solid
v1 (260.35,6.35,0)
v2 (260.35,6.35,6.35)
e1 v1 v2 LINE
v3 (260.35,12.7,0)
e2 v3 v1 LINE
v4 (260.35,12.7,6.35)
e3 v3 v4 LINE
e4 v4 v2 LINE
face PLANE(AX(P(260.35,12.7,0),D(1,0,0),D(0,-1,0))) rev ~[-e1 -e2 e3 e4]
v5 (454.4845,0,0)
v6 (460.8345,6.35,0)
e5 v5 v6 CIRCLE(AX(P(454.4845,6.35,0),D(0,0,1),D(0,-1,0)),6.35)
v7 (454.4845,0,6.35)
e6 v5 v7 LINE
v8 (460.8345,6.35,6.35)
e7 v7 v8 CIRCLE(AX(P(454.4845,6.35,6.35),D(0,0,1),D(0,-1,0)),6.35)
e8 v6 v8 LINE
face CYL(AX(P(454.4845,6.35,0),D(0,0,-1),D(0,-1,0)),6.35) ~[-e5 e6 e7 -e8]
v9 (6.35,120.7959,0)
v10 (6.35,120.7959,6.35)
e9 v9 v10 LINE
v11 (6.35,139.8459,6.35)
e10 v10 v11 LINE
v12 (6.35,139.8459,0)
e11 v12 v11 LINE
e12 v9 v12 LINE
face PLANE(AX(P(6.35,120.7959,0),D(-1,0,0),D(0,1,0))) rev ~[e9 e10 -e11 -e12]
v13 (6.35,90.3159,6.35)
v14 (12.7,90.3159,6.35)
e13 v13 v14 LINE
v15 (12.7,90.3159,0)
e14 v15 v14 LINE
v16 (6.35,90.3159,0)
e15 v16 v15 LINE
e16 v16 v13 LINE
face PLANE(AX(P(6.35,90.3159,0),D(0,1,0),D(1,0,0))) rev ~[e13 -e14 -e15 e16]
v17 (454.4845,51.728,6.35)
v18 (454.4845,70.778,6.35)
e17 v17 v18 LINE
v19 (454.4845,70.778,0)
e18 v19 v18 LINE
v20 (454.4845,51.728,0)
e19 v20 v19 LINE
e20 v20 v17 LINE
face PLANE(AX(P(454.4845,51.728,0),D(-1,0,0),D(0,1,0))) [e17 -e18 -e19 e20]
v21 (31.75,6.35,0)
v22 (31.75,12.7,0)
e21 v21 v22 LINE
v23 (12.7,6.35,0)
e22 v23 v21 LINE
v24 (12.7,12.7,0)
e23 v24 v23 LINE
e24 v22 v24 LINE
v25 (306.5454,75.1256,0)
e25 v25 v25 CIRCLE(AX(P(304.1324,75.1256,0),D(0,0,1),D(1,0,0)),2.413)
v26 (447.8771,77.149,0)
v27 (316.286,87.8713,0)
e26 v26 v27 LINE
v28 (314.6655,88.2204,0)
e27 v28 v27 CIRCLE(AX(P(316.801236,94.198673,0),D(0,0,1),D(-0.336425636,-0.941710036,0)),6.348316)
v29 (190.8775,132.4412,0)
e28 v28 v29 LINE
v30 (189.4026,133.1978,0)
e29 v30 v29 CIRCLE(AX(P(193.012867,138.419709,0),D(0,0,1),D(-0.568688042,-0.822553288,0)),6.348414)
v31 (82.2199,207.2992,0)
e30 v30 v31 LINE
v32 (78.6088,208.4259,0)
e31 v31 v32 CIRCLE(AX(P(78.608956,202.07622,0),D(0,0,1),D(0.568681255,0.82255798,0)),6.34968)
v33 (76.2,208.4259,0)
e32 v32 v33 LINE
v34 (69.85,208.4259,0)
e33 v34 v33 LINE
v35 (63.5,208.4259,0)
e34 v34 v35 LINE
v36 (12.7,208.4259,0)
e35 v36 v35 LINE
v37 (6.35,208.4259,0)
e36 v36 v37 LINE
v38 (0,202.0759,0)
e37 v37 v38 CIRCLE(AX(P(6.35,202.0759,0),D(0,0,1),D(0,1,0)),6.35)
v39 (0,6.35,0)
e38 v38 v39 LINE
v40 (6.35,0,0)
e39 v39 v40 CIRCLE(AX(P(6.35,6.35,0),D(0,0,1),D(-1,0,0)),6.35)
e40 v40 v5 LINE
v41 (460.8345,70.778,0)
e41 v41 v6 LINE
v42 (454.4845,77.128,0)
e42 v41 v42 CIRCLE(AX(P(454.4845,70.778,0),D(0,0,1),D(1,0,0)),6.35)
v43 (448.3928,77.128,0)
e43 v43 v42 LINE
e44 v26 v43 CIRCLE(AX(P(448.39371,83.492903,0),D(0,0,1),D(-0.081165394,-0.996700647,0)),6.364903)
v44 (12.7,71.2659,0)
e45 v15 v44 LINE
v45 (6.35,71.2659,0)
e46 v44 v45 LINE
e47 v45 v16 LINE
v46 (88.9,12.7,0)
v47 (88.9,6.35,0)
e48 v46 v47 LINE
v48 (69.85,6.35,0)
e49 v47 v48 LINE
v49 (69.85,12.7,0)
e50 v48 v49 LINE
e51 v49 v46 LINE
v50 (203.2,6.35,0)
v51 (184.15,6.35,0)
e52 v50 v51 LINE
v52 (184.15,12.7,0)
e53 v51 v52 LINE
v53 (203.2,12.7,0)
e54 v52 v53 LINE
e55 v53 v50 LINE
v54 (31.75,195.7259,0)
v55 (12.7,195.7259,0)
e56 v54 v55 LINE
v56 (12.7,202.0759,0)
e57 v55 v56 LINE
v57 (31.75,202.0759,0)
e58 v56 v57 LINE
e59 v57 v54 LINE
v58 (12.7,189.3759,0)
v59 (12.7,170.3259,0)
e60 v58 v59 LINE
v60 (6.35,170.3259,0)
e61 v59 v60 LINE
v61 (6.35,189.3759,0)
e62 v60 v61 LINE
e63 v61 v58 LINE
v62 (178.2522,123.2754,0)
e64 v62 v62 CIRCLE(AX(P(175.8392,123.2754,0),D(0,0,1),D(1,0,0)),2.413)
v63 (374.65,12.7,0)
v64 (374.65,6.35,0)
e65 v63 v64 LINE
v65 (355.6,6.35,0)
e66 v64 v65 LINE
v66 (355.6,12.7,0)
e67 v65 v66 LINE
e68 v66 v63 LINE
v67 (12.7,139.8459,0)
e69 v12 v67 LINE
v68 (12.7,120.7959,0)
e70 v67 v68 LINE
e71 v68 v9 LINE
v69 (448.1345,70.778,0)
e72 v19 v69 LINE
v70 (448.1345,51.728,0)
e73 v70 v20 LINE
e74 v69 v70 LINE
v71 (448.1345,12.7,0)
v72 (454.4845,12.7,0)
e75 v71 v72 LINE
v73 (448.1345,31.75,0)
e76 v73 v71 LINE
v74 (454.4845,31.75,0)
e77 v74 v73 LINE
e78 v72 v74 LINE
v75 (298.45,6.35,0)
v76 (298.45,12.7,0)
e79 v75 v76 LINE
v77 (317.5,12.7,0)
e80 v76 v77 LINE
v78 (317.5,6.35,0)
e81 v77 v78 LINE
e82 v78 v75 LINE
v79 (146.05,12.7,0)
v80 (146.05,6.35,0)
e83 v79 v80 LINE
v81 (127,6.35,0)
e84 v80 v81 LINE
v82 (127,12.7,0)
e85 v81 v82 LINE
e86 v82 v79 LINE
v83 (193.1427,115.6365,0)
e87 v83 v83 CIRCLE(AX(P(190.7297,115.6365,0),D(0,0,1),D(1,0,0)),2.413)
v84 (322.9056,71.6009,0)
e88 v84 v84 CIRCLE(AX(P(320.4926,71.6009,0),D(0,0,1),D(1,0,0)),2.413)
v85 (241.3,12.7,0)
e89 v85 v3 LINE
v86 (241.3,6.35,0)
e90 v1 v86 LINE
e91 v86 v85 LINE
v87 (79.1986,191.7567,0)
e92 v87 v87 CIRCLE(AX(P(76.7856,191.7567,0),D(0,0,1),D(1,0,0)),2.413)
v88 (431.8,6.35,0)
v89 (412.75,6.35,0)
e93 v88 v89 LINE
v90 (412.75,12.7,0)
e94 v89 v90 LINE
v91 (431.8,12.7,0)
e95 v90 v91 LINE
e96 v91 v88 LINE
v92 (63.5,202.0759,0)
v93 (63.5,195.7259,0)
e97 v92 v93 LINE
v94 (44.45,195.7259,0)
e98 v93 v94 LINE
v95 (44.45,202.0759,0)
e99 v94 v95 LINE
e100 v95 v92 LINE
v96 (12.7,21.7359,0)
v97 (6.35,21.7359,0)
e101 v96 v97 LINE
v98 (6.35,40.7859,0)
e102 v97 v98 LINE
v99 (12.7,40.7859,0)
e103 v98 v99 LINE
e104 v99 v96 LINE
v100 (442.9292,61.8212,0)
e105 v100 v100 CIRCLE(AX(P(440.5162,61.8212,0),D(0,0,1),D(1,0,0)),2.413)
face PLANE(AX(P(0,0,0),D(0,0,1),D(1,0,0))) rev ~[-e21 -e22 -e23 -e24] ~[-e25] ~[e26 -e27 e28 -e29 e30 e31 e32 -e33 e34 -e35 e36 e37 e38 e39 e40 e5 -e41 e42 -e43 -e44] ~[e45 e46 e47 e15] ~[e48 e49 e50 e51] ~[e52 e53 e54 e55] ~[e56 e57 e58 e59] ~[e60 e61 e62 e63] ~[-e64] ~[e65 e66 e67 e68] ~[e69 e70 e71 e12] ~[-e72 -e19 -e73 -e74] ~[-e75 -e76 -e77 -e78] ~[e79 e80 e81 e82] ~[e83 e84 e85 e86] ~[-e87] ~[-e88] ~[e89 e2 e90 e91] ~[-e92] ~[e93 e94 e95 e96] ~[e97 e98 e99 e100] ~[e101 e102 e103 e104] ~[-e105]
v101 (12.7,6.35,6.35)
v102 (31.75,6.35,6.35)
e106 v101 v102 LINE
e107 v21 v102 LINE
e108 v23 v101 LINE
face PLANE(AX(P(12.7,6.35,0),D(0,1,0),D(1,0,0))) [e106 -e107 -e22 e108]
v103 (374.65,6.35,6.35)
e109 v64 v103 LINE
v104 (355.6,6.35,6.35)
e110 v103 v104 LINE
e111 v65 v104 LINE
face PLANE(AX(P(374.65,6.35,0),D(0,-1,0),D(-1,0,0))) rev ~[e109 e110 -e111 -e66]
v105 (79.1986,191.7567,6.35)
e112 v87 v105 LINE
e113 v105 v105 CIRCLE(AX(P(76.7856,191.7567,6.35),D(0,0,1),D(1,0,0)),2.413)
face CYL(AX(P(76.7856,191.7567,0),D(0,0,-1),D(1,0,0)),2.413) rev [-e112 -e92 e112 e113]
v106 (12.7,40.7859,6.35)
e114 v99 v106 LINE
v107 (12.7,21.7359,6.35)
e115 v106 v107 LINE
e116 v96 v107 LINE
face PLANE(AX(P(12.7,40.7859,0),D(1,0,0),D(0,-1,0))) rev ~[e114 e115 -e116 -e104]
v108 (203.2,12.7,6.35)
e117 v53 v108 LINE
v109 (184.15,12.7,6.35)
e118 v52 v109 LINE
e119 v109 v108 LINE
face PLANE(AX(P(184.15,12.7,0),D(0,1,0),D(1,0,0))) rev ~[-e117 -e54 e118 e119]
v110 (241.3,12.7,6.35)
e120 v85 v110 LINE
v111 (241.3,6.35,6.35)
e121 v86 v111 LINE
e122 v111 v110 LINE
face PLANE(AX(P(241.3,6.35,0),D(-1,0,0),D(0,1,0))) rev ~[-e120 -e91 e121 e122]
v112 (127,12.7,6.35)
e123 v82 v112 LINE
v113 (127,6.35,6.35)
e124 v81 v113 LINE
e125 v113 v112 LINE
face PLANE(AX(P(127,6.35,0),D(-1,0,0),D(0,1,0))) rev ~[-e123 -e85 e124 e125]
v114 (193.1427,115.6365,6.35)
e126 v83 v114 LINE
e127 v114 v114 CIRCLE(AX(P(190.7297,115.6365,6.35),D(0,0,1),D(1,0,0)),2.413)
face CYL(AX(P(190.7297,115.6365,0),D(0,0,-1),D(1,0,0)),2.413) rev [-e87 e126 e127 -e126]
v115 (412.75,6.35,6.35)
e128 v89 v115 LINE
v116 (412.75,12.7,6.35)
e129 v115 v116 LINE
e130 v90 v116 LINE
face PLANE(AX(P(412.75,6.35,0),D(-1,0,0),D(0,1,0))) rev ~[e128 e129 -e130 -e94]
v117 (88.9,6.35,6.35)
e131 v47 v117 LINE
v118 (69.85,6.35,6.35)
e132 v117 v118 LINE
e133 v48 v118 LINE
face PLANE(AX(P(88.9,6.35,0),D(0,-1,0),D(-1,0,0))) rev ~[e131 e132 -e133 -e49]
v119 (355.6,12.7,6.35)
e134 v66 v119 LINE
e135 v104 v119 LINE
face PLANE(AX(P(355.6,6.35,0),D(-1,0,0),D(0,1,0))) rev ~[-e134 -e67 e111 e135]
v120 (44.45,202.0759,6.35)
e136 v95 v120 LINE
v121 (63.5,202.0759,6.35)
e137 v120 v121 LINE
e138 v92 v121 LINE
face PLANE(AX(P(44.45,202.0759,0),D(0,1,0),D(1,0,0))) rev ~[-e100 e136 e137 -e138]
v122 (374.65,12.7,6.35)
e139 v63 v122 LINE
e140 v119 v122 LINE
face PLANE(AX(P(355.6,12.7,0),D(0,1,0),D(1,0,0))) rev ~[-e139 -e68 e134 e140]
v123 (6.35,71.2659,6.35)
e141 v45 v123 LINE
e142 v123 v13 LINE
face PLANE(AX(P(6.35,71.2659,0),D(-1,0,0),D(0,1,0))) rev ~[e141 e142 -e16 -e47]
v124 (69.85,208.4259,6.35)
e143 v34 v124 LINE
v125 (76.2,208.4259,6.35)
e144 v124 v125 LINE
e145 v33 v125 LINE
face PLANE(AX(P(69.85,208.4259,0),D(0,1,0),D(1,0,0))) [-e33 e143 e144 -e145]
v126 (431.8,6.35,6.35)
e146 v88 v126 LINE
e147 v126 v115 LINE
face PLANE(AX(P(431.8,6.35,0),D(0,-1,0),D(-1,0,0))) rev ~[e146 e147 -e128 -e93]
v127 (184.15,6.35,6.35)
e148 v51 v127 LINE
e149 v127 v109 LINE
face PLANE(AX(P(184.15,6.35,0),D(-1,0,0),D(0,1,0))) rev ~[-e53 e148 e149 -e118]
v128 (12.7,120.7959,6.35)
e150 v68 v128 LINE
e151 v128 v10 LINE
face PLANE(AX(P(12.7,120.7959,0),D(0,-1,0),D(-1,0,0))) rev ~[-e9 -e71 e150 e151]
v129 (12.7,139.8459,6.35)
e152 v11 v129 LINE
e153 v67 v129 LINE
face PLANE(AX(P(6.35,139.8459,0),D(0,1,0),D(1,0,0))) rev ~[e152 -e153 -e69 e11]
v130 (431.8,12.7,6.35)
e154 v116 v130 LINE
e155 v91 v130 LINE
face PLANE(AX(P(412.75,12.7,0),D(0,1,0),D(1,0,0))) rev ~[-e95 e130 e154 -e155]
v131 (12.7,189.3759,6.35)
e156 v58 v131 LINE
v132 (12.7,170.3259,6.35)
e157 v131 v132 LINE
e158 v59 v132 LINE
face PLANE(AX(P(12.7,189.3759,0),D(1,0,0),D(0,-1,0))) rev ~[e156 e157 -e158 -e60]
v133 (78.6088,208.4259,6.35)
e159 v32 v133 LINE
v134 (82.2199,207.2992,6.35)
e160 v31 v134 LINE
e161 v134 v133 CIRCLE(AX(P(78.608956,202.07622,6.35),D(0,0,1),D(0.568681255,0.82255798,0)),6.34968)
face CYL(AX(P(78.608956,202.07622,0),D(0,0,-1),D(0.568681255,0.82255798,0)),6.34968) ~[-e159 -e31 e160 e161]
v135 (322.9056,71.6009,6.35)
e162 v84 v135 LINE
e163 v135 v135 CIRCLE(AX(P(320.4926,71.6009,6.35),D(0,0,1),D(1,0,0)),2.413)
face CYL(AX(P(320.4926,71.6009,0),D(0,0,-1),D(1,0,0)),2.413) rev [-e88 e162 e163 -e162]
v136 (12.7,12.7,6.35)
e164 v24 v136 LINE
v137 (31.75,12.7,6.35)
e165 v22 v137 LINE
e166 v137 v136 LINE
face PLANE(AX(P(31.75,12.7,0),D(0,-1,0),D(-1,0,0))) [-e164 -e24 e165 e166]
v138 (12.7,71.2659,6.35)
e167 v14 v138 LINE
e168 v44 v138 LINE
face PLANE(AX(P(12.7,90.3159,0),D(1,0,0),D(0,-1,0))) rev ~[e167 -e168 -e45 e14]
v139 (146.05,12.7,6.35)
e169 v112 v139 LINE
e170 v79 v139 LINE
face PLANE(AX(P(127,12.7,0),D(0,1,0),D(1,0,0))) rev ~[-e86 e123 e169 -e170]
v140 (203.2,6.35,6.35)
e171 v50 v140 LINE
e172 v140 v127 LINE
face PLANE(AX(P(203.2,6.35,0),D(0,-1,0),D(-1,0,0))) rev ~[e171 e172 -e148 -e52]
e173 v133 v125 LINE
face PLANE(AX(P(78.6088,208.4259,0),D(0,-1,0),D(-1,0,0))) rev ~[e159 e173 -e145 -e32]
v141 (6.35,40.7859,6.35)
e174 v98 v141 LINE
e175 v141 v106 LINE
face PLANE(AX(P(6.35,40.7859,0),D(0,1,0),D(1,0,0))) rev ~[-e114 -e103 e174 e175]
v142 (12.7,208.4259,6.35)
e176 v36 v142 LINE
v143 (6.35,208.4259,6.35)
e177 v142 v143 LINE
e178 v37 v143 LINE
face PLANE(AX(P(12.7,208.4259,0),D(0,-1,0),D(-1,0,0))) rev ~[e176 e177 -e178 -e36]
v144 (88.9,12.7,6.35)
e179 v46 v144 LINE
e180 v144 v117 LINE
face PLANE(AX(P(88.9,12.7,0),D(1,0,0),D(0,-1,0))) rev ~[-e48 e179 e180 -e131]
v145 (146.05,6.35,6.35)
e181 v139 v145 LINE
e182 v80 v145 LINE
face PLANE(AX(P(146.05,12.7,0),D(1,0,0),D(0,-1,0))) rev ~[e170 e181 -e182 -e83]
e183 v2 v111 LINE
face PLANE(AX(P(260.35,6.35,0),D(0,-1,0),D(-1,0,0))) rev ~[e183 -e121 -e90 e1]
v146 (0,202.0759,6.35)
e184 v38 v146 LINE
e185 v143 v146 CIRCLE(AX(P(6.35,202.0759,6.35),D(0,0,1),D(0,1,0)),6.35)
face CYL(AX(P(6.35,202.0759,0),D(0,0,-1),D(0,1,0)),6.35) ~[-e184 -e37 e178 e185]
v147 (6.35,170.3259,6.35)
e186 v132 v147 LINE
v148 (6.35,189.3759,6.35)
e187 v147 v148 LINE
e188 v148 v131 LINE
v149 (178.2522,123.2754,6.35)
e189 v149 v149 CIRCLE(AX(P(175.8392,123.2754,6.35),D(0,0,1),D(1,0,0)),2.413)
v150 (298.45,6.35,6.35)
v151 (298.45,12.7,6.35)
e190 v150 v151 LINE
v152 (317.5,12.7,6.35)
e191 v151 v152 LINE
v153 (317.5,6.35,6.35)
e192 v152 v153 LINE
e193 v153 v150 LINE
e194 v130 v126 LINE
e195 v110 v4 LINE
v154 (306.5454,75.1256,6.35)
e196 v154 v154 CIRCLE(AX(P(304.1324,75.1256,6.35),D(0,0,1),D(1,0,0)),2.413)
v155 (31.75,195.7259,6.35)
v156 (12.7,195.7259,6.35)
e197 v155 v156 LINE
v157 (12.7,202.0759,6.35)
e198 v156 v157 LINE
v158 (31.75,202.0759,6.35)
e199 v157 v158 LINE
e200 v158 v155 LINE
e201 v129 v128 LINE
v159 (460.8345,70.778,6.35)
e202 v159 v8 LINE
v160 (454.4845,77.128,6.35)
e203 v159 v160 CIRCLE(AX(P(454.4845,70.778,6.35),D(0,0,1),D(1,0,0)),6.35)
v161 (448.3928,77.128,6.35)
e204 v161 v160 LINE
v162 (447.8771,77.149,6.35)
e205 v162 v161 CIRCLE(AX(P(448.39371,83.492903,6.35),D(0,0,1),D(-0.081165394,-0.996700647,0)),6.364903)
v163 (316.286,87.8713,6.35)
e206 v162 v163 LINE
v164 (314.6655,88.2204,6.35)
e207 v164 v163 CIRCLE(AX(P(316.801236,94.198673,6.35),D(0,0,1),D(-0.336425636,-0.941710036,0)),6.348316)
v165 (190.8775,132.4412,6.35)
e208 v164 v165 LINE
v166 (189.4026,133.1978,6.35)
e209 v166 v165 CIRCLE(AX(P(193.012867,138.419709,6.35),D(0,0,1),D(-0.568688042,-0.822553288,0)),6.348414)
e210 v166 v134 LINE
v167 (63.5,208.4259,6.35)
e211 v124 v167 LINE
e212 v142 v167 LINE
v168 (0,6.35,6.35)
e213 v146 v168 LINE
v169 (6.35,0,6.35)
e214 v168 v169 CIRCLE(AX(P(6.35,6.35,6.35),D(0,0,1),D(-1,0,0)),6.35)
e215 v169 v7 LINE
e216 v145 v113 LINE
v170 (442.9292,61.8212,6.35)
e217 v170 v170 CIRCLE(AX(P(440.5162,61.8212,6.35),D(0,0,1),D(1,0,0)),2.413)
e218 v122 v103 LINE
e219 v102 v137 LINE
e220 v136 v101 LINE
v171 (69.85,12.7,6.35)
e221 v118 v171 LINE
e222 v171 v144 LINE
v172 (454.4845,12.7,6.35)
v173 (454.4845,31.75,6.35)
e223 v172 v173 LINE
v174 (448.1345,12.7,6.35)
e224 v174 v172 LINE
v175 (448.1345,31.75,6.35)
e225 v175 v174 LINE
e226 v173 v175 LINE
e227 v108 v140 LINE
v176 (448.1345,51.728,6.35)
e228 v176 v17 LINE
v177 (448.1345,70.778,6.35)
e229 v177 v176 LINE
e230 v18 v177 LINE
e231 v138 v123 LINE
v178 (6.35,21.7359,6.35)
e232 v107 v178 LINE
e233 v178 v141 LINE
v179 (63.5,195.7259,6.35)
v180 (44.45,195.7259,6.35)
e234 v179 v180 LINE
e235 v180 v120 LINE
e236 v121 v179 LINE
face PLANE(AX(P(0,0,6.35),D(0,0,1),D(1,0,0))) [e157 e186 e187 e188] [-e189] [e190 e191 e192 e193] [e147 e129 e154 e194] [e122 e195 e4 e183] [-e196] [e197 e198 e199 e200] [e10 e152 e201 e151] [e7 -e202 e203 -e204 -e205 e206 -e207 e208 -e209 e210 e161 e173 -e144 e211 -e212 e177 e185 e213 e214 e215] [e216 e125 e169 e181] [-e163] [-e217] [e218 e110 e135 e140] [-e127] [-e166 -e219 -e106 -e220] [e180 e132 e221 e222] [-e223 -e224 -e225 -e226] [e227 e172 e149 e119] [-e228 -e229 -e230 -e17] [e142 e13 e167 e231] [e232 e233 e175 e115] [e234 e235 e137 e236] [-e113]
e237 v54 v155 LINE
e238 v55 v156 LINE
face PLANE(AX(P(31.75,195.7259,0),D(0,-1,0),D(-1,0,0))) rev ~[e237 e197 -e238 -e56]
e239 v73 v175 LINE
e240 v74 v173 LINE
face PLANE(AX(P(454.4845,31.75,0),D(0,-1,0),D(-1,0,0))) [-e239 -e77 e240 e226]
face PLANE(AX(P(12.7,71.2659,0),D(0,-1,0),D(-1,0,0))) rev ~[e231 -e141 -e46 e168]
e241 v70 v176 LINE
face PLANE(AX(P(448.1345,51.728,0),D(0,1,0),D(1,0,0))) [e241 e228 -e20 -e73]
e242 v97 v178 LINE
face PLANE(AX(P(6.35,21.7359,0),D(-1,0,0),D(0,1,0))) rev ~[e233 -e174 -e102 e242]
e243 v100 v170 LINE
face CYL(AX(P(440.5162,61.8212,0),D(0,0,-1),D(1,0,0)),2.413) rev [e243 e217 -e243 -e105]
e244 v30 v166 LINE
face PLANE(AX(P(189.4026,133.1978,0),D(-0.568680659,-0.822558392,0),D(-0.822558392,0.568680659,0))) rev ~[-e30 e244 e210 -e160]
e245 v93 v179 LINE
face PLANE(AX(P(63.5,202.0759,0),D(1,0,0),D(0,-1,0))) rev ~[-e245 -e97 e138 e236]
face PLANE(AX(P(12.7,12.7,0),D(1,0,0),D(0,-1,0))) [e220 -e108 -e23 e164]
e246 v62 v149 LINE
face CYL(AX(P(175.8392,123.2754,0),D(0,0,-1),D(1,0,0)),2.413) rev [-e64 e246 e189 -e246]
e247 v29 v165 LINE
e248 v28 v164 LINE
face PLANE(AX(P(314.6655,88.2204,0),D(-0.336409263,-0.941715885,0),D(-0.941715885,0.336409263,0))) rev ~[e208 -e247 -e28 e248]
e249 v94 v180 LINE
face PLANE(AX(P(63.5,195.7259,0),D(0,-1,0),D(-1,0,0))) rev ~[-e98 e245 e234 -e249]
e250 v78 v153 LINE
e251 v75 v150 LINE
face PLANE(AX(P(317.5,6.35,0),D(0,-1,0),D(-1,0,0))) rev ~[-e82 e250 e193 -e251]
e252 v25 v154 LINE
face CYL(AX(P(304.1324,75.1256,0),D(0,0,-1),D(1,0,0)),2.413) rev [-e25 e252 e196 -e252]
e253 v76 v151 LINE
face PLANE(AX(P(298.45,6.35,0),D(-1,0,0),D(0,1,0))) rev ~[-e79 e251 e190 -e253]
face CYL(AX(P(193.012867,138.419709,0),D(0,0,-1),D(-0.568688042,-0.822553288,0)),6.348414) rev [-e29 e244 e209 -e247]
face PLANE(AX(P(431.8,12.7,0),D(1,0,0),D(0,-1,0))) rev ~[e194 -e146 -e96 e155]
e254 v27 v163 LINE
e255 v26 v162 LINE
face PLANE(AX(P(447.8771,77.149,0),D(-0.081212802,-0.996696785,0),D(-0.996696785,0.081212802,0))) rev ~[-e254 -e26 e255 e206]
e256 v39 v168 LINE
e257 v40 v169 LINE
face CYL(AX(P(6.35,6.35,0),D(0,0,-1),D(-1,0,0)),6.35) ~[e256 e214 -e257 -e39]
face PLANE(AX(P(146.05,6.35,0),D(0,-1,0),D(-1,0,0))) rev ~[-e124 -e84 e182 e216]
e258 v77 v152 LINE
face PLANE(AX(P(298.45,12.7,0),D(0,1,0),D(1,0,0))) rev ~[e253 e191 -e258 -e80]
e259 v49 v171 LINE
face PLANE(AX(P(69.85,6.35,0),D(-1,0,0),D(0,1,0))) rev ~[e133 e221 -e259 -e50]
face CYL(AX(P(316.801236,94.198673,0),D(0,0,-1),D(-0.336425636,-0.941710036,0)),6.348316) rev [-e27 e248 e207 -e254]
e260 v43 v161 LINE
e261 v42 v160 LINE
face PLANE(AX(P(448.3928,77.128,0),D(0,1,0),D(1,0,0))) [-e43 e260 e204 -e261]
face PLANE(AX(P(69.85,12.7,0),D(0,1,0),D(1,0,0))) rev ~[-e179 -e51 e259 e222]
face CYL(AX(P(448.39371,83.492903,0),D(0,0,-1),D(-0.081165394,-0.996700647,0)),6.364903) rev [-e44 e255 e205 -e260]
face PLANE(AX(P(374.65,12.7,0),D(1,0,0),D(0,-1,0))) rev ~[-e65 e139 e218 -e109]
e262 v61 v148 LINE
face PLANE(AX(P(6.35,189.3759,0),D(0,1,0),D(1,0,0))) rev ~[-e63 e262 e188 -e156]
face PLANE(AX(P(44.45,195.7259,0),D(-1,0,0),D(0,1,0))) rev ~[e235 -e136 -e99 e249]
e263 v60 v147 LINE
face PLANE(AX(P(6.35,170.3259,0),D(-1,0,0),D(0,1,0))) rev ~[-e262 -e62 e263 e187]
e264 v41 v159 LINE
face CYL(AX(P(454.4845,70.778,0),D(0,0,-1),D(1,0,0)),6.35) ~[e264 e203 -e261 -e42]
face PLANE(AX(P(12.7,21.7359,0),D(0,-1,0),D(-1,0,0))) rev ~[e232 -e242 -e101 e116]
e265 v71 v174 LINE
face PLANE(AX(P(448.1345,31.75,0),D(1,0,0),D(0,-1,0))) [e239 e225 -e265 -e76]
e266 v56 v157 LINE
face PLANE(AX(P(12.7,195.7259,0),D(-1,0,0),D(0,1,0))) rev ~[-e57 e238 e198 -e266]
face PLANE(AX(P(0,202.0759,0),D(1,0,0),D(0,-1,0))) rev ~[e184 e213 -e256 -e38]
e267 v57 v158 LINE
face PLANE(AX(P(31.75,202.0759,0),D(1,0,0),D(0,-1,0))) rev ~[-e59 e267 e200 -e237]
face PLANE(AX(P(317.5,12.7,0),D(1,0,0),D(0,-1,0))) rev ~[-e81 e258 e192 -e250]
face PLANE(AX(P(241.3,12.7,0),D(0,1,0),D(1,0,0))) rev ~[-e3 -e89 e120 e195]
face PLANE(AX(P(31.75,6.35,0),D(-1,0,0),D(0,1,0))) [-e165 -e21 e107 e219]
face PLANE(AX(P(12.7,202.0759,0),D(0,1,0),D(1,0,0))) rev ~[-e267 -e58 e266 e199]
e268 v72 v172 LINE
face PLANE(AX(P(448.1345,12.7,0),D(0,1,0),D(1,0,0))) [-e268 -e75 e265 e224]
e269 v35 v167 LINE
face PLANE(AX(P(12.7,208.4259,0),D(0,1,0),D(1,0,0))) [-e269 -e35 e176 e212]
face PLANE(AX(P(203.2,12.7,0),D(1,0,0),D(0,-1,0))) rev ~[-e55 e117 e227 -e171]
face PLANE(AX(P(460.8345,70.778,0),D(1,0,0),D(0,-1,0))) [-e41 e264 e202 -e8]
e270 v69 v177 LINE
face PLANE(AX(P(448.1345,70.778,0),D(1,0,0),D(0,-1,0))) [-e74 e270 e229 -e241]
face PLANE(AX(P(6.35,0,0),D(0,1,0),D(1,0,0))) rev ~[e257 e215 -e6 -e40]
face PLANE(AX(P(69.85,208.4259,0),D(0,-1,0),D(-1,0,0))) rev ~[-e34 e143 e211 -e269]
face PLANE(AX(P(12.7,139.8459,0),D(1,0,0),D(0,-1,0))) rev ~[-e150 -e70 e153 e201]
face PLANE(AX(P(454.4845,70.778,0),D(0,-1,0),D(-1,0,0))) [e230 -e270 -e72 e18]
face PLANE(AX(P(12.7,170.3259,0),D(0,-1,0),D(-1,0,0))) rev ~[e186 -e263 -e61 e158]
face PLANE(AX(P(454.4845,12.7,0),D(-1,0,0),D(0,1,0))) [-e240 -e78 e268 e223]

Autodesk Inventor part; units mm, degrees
ref_plane "YZ Plane" through (0, 0, 0) normal (1, 0, 0) x (0, 1, 0)
ref_plane "XZ Plane" through (0, 0, 0) normal (0, 1, 0) x (-1, 0, 0)
ref_plane "XY Plane" through (0, 0, 0) normal (0, 0, 1) x (1, 0, 0)
sketch "Sketch1" plane through (0, 0, 0) normal (0, 0, 1) x (1, 0, 0)
  line L0 (447.8771, 77.149) -> (316.286, 87.8713)
  line L1 (314.6655, 88.2204) -> (190.8775, 132.4412)
  line L2 (189.4026, 133.1978) -> (82.2199, 207.2992)
  line L3 (0, 202.0759) -> (0, 6.35)
  circle A0 centre (440.5162, 61.8212) radius 2.413
  circle A1 centre (320.4926, 71.6009) radius 2.413
  line L4 (448.1345, 77.128) -> (443.7313, 23.0895) construction
  line L5 (315.4528, 87.9391) -> (312.3268, 49.5751) construction
  line L6 (315.4528, 87.9391) -> (300.5748, 46.291) construction
  circle A2 centre (190.7297, 115.6365) radius 2.413
  circle A3 centre (304.1324, 75.1256) radius 2.413
  line L7 (190.0903, 132.7224) -> (175.3821, 91.5497) construction
  line L8 (190.0903, 132.7224) -> (160.9674, 90.5981) construction
  circle A4 centre (175.8392, 123.2754) radius 2.413
  circle A5 centre (76.7856, 191.7567) radius 2.413
  line L9 (80.5901, 208.4259) -> (54.0448, 170.0299) construction
  line L10 (69.85, 208.4259) -> (76.2, 208.4259)
  line L11 (76.2, 202.0759) -> (76.2, 208.4259) construction
  line L12 (448.3928, 77.128) -> (454.4845, 77.128)
  line L13 (12.7, 208.4259) -> (6.35, 208.4259)
  line L14 (78.6088, 208.4259) -> (63.5, 208.4259)
  line L15 (12.7, 208.4259) -> (63.5, 208.4259)
  line L16 (12.7, 202.0759) -> (31.75, 202.0759)
  line L17 (31.75, 202.0759) -> (31.75, 195.7259)
  line L18 (31.75, 195.7259) -> (12.7, 195.7259)
  line L19 (12.7, 195.7259) -> (12.7, 202.0759)
  line L20 (44.45, 202.0759) -> (63.5, 202.0759)
  line L21 (63.5, 202.0759) -> (63.5, 195.7259)
  line L22 (63.5, 195.7259) -> (44.45, 195.7259)
  line L23 (44.45, 195.7259) -> (44.45, 202.0759)
  line L24 (63.5, 195.7259) -> (71.8099, 195.7259) construction
  line L25 (71.8099, 195.7259) -> (71.8099, 208.4259) construction
  line L26 (12.7, 6.35) -> (31.75, 6.35)
  line L27 (31.75, 6.35) -> (31.75, 12.7)
  line L28 (31.75, 12.7) -> (12.7, 12.7)
  line L29 (12.7, 12.7) -> (12.7, 6.35)
  line L30 (69.85, 12.7) -> (88.9, 12.7)
  line L31 (88.9, 12.7) -> (88.9, 6.35)
  line L32 (88.9, 6.35) -> (69.85, 6.35)
  line L33 (69.85, 6.35) -> (69.85, 12.7)
  line L34 (127, 12.7) -> (146.05, 12.7)
  line L35 (146.05, 12.7) -> (146.05, 6.35)
  line L36 (146.05, 6.35) -> (127, 6.35)
  line L37 (127, 6.35) -> (127, 12.7)
  line L38 (184.15, 12.7) -> (203.2, 12.7)
  line L39 (203.2, 12.7) -> (203.2, 6.35)
  line L40 (203.2, 6.35) -> (184.15, 6.35)
  line L41 (184.15, 6.35) -> (184.15, 12.7)
  line L42 (241.3, 12.7) -> (260.35, 12.7)
  line L43 (260.35, 12.7) -> (260.35, 6.35)
  line L44 (260.35, 6.35) -> (241.3, 6.35)
  line L45 (241.3, 6.35) -> (241.3, 12.7)
  line L46 (298.45, 12.7) -> (317.5, 12.7)
  line L47 (317.5, 12.7) -> (317.5, 6.35)
  line L48 (317.5, 6.35) -> (298.45, 6.35)
  line L49 (298.45, 6.35) -> (298.45, 12.7)
  line L50 (355.6, 12.7) -> (374.65, 12.7)
  line L51 (374.65, 12.7) -> (374.65, 6.35)
  line L52 (374.65, 6.35) -> (355.6, 6.35)
  line L53 (355.6, 6.35) -> (355.6, 12.7)
  line L54 (412.75, 12.7) -> (431.8, 12.7)
  line L55 (431.8, 12.7) -> (431.8, 6.35)
  line L56 (431.8, 6.35) -> (412.75, 6.35)
  line L57 (412.75, 6.35) -> (412.75, 12.7)
  line L58 (460.8345, 70.778) -> (460.8345, 6.35)
  line L59 (454.4845, 0) -> (454.4845, 0)
  line L60 (448.1345, 12.7) -> (454.4845, 12.7)
  line L61 (454.4845, 12.7) -> (454.4845, 31.75)
  line L62 (454.4845, 31.75) -> (448.1345, 31.75)
  line L63 (448.1345, 31.75) -> (448.1345, 12.7)
  line L64 (448.1345, 51.728) -> (454.4845, 51.728)
  line L65 (454.4845, 51.728) -> (454.4845, 70.778)
  line L66 (454.4845, 70.778) -> (448.1345, 70.778)
  line L67 (448.1345, 70.778) -> (448.1345, 51.728)
  line L68 (6.35, 189.3759) -> (12.7, 189.3759)
  line L69 (12.7, 189.3759) -> (12.7, 170.3259)
  line L70 (12.7, 170.3259) -> (6.35, 170.3259)
  line L71 (6.35, 170.3259) -> (6.35, 189.3759)
  line L72 (6.35, 139.8459) -> (12.7, 139.8459)
  line L73 (12.7, 139.8459) -> (12.7, 120.7959)
  line L74 (12.7, 120.7959) -> (6.35, 120.7959)
  line L75 (6.35, 120.7959) -> (6.35, 139.8459)
  line L76 (6.35, 90.3159) -> (12.7, 90.3159)
  line L77 (12.7, 90.3159) -> (12.7, 71.2659)
  line L78 (12.7, 71.2659) -> (6.35, 71.2659)
  line L79 (6.35, 71.2659) -> (6.35, 90.3159)
  line L80 (6.35, 40.7859) -> (12.7, 40.7859)
  line L81 (12.7, 40.7859) -> (12.7, 21.7359)
  line L82 (12.7, 21.7359) -> (6.35, 21.7359)
  line L83 (6.35, 21.7359) -> (6.35, 40.7859)
  arc A6 (6.35, 208.4259) -> (0, 202.0759) centre (6.35, 202.0759) ccw
  arc A7 (82.2199, 207.2992) -> (78.6088, 208.4259) centre (78.6088, 202.0759) ccw
  arc A8 (189.4026, 133.1978) -> (190.8775, 132.4412) centre (193.0137, 138.4211) ccw
  arc A9 (314.6655, 88.2204) -> (316.286, 87.8713) centre (316.8017, 94.2003) ccw
  arc A10 (447.8771, 77.149) -> (448.3928, 77.128) centre (448.3928, 83.478) ccw
  arc A11 (460.8345, 70.778) -> (454.4845, 77.128) centre (454.4845, 70.778) ccw
  arc A12 (454.4845, 0) -> (460.8345, 6.35) centre (454.4845, 6.35) ccw
  arc A13 (0, 6.35) -> (6.35, 0) centre (6.35, 6.35) ccw
  line L84 (6.35, 0) -> (454.4845, 0)
  point P0 (0, 0)
  point P1 (0, 0)
  point P2 (460.8345, 77.128)
  dimension "d3" = 4.826
  dimension "d4" = 4.826
  dimension "d5" = 15.875
  dimension "d6" = 15.875
  dimension "d7" = 120.4214
  dimension "d8" = 90
  dimension "d9" = 6.35
  dimension "d11" = 90
  dimension "d12" = 90
  dimension "d13" = 165
  dimension "d14" = 6.35
  dimension "d16" = 4.826
  dimension "d17" = 4.826
  dimension "d18" = 6.35
  dimension "d19" = 15.875
  dimension "d20" = 15.875
  dimension "d21" = 120.4214
  dimension "d22" = 165
  dimension "d23" = 90
  dimension "d24" = 90
  dimension "d25" = 6.35
  dimension "d26" = 4.826
  dimension "d27" = 4.826
  dimension "d28" = 6.35
  dimension "d29" = 15.875
  dimension "d30" = 15.875
  dimension "d31" = 120.4214
  dimension "d32" = 90
  dimension "d33" = 6.35
  dimension "d38" = 6.35
  dimension "d39" = 12.7
  dimension "d41" = 76.2
  dimension "d76" = 19.05
  dimension "d77" = 6.35
  dimension "d78" = 19.05
  dimension "d79" = 6.35
  dimension "d80" = 12.7
  dimension "d81" = 12.7
  dimension "d82" = 6.35
  dimension "d83" = 6.35
  dimension "d84" = 71.8099
  dimension "d86" = 6.35
  dimension "d87" = 19.05
  dimension "d88" = 6.35
  dimension "d89" = 19.05
  dimension "d91" = 6.35
  dimension "d92" = 6.35
  dimension "d93" = 6.35
  dimension "d94" = 6.35
  dimension "d97" = 19.05
  dimension "d98" = 19.05
  dimension "d99" = 19.05
  dimension "d100" = 19.05
  dimension "d102" = 12.7
  dimension "d106" = 38.1
  dimension "d107" = 38.1
  dimension "d109" = 38.1
  dimension "d112" = 38.1
  dimension "d113" = 38.1
  dimension "d115" = 19.05
  dimension "d116" = 6.35
  dimension "d117" = 38.1
  dimension "d119" = 38.1
  dimension "d120" = 6.35
extrude "Extrusion2" add sketch "Sketch1" along normal blind 6.35
equation "\"d4\" = d3"
equation "\"d5\" = d6"
equation "\"d14\" = d9"
equation "\"d16\" = d3"
equation "\"d17\" = d3"
equation "\"d18\" = d9"
equation "\"d19\" = d6"
equation "\"d20\" = d6"
equation "\"d21\" = d7"
equation "\"d22\" = d13"
equation "\"d25\" = d9"
equation "\"d26\" = d3"
equation "\"d27\" = d3"
equation "\"d28\" = d9"
equation "\"d29\" = d6"
equation "\"d30\" = d6"
equation "\"d31\" = d7"
equation "\"d33\" = d9"
equation "\"d78\" = d76"
equation "\"d81\" = d80"
equation "\"d83\" = d82"
equation "\"d86\" = d77"
equation "\"d87\" = d76"
equation "\"d88\" = d86"
equation "\"d89\" = d87"
equation "\"d91\" = d86"
equation "\"d92\" = d86"
equation "\"d93\" = d86"
equation "\"d94\" = d93"
properties part number "9U Cheek V3"
